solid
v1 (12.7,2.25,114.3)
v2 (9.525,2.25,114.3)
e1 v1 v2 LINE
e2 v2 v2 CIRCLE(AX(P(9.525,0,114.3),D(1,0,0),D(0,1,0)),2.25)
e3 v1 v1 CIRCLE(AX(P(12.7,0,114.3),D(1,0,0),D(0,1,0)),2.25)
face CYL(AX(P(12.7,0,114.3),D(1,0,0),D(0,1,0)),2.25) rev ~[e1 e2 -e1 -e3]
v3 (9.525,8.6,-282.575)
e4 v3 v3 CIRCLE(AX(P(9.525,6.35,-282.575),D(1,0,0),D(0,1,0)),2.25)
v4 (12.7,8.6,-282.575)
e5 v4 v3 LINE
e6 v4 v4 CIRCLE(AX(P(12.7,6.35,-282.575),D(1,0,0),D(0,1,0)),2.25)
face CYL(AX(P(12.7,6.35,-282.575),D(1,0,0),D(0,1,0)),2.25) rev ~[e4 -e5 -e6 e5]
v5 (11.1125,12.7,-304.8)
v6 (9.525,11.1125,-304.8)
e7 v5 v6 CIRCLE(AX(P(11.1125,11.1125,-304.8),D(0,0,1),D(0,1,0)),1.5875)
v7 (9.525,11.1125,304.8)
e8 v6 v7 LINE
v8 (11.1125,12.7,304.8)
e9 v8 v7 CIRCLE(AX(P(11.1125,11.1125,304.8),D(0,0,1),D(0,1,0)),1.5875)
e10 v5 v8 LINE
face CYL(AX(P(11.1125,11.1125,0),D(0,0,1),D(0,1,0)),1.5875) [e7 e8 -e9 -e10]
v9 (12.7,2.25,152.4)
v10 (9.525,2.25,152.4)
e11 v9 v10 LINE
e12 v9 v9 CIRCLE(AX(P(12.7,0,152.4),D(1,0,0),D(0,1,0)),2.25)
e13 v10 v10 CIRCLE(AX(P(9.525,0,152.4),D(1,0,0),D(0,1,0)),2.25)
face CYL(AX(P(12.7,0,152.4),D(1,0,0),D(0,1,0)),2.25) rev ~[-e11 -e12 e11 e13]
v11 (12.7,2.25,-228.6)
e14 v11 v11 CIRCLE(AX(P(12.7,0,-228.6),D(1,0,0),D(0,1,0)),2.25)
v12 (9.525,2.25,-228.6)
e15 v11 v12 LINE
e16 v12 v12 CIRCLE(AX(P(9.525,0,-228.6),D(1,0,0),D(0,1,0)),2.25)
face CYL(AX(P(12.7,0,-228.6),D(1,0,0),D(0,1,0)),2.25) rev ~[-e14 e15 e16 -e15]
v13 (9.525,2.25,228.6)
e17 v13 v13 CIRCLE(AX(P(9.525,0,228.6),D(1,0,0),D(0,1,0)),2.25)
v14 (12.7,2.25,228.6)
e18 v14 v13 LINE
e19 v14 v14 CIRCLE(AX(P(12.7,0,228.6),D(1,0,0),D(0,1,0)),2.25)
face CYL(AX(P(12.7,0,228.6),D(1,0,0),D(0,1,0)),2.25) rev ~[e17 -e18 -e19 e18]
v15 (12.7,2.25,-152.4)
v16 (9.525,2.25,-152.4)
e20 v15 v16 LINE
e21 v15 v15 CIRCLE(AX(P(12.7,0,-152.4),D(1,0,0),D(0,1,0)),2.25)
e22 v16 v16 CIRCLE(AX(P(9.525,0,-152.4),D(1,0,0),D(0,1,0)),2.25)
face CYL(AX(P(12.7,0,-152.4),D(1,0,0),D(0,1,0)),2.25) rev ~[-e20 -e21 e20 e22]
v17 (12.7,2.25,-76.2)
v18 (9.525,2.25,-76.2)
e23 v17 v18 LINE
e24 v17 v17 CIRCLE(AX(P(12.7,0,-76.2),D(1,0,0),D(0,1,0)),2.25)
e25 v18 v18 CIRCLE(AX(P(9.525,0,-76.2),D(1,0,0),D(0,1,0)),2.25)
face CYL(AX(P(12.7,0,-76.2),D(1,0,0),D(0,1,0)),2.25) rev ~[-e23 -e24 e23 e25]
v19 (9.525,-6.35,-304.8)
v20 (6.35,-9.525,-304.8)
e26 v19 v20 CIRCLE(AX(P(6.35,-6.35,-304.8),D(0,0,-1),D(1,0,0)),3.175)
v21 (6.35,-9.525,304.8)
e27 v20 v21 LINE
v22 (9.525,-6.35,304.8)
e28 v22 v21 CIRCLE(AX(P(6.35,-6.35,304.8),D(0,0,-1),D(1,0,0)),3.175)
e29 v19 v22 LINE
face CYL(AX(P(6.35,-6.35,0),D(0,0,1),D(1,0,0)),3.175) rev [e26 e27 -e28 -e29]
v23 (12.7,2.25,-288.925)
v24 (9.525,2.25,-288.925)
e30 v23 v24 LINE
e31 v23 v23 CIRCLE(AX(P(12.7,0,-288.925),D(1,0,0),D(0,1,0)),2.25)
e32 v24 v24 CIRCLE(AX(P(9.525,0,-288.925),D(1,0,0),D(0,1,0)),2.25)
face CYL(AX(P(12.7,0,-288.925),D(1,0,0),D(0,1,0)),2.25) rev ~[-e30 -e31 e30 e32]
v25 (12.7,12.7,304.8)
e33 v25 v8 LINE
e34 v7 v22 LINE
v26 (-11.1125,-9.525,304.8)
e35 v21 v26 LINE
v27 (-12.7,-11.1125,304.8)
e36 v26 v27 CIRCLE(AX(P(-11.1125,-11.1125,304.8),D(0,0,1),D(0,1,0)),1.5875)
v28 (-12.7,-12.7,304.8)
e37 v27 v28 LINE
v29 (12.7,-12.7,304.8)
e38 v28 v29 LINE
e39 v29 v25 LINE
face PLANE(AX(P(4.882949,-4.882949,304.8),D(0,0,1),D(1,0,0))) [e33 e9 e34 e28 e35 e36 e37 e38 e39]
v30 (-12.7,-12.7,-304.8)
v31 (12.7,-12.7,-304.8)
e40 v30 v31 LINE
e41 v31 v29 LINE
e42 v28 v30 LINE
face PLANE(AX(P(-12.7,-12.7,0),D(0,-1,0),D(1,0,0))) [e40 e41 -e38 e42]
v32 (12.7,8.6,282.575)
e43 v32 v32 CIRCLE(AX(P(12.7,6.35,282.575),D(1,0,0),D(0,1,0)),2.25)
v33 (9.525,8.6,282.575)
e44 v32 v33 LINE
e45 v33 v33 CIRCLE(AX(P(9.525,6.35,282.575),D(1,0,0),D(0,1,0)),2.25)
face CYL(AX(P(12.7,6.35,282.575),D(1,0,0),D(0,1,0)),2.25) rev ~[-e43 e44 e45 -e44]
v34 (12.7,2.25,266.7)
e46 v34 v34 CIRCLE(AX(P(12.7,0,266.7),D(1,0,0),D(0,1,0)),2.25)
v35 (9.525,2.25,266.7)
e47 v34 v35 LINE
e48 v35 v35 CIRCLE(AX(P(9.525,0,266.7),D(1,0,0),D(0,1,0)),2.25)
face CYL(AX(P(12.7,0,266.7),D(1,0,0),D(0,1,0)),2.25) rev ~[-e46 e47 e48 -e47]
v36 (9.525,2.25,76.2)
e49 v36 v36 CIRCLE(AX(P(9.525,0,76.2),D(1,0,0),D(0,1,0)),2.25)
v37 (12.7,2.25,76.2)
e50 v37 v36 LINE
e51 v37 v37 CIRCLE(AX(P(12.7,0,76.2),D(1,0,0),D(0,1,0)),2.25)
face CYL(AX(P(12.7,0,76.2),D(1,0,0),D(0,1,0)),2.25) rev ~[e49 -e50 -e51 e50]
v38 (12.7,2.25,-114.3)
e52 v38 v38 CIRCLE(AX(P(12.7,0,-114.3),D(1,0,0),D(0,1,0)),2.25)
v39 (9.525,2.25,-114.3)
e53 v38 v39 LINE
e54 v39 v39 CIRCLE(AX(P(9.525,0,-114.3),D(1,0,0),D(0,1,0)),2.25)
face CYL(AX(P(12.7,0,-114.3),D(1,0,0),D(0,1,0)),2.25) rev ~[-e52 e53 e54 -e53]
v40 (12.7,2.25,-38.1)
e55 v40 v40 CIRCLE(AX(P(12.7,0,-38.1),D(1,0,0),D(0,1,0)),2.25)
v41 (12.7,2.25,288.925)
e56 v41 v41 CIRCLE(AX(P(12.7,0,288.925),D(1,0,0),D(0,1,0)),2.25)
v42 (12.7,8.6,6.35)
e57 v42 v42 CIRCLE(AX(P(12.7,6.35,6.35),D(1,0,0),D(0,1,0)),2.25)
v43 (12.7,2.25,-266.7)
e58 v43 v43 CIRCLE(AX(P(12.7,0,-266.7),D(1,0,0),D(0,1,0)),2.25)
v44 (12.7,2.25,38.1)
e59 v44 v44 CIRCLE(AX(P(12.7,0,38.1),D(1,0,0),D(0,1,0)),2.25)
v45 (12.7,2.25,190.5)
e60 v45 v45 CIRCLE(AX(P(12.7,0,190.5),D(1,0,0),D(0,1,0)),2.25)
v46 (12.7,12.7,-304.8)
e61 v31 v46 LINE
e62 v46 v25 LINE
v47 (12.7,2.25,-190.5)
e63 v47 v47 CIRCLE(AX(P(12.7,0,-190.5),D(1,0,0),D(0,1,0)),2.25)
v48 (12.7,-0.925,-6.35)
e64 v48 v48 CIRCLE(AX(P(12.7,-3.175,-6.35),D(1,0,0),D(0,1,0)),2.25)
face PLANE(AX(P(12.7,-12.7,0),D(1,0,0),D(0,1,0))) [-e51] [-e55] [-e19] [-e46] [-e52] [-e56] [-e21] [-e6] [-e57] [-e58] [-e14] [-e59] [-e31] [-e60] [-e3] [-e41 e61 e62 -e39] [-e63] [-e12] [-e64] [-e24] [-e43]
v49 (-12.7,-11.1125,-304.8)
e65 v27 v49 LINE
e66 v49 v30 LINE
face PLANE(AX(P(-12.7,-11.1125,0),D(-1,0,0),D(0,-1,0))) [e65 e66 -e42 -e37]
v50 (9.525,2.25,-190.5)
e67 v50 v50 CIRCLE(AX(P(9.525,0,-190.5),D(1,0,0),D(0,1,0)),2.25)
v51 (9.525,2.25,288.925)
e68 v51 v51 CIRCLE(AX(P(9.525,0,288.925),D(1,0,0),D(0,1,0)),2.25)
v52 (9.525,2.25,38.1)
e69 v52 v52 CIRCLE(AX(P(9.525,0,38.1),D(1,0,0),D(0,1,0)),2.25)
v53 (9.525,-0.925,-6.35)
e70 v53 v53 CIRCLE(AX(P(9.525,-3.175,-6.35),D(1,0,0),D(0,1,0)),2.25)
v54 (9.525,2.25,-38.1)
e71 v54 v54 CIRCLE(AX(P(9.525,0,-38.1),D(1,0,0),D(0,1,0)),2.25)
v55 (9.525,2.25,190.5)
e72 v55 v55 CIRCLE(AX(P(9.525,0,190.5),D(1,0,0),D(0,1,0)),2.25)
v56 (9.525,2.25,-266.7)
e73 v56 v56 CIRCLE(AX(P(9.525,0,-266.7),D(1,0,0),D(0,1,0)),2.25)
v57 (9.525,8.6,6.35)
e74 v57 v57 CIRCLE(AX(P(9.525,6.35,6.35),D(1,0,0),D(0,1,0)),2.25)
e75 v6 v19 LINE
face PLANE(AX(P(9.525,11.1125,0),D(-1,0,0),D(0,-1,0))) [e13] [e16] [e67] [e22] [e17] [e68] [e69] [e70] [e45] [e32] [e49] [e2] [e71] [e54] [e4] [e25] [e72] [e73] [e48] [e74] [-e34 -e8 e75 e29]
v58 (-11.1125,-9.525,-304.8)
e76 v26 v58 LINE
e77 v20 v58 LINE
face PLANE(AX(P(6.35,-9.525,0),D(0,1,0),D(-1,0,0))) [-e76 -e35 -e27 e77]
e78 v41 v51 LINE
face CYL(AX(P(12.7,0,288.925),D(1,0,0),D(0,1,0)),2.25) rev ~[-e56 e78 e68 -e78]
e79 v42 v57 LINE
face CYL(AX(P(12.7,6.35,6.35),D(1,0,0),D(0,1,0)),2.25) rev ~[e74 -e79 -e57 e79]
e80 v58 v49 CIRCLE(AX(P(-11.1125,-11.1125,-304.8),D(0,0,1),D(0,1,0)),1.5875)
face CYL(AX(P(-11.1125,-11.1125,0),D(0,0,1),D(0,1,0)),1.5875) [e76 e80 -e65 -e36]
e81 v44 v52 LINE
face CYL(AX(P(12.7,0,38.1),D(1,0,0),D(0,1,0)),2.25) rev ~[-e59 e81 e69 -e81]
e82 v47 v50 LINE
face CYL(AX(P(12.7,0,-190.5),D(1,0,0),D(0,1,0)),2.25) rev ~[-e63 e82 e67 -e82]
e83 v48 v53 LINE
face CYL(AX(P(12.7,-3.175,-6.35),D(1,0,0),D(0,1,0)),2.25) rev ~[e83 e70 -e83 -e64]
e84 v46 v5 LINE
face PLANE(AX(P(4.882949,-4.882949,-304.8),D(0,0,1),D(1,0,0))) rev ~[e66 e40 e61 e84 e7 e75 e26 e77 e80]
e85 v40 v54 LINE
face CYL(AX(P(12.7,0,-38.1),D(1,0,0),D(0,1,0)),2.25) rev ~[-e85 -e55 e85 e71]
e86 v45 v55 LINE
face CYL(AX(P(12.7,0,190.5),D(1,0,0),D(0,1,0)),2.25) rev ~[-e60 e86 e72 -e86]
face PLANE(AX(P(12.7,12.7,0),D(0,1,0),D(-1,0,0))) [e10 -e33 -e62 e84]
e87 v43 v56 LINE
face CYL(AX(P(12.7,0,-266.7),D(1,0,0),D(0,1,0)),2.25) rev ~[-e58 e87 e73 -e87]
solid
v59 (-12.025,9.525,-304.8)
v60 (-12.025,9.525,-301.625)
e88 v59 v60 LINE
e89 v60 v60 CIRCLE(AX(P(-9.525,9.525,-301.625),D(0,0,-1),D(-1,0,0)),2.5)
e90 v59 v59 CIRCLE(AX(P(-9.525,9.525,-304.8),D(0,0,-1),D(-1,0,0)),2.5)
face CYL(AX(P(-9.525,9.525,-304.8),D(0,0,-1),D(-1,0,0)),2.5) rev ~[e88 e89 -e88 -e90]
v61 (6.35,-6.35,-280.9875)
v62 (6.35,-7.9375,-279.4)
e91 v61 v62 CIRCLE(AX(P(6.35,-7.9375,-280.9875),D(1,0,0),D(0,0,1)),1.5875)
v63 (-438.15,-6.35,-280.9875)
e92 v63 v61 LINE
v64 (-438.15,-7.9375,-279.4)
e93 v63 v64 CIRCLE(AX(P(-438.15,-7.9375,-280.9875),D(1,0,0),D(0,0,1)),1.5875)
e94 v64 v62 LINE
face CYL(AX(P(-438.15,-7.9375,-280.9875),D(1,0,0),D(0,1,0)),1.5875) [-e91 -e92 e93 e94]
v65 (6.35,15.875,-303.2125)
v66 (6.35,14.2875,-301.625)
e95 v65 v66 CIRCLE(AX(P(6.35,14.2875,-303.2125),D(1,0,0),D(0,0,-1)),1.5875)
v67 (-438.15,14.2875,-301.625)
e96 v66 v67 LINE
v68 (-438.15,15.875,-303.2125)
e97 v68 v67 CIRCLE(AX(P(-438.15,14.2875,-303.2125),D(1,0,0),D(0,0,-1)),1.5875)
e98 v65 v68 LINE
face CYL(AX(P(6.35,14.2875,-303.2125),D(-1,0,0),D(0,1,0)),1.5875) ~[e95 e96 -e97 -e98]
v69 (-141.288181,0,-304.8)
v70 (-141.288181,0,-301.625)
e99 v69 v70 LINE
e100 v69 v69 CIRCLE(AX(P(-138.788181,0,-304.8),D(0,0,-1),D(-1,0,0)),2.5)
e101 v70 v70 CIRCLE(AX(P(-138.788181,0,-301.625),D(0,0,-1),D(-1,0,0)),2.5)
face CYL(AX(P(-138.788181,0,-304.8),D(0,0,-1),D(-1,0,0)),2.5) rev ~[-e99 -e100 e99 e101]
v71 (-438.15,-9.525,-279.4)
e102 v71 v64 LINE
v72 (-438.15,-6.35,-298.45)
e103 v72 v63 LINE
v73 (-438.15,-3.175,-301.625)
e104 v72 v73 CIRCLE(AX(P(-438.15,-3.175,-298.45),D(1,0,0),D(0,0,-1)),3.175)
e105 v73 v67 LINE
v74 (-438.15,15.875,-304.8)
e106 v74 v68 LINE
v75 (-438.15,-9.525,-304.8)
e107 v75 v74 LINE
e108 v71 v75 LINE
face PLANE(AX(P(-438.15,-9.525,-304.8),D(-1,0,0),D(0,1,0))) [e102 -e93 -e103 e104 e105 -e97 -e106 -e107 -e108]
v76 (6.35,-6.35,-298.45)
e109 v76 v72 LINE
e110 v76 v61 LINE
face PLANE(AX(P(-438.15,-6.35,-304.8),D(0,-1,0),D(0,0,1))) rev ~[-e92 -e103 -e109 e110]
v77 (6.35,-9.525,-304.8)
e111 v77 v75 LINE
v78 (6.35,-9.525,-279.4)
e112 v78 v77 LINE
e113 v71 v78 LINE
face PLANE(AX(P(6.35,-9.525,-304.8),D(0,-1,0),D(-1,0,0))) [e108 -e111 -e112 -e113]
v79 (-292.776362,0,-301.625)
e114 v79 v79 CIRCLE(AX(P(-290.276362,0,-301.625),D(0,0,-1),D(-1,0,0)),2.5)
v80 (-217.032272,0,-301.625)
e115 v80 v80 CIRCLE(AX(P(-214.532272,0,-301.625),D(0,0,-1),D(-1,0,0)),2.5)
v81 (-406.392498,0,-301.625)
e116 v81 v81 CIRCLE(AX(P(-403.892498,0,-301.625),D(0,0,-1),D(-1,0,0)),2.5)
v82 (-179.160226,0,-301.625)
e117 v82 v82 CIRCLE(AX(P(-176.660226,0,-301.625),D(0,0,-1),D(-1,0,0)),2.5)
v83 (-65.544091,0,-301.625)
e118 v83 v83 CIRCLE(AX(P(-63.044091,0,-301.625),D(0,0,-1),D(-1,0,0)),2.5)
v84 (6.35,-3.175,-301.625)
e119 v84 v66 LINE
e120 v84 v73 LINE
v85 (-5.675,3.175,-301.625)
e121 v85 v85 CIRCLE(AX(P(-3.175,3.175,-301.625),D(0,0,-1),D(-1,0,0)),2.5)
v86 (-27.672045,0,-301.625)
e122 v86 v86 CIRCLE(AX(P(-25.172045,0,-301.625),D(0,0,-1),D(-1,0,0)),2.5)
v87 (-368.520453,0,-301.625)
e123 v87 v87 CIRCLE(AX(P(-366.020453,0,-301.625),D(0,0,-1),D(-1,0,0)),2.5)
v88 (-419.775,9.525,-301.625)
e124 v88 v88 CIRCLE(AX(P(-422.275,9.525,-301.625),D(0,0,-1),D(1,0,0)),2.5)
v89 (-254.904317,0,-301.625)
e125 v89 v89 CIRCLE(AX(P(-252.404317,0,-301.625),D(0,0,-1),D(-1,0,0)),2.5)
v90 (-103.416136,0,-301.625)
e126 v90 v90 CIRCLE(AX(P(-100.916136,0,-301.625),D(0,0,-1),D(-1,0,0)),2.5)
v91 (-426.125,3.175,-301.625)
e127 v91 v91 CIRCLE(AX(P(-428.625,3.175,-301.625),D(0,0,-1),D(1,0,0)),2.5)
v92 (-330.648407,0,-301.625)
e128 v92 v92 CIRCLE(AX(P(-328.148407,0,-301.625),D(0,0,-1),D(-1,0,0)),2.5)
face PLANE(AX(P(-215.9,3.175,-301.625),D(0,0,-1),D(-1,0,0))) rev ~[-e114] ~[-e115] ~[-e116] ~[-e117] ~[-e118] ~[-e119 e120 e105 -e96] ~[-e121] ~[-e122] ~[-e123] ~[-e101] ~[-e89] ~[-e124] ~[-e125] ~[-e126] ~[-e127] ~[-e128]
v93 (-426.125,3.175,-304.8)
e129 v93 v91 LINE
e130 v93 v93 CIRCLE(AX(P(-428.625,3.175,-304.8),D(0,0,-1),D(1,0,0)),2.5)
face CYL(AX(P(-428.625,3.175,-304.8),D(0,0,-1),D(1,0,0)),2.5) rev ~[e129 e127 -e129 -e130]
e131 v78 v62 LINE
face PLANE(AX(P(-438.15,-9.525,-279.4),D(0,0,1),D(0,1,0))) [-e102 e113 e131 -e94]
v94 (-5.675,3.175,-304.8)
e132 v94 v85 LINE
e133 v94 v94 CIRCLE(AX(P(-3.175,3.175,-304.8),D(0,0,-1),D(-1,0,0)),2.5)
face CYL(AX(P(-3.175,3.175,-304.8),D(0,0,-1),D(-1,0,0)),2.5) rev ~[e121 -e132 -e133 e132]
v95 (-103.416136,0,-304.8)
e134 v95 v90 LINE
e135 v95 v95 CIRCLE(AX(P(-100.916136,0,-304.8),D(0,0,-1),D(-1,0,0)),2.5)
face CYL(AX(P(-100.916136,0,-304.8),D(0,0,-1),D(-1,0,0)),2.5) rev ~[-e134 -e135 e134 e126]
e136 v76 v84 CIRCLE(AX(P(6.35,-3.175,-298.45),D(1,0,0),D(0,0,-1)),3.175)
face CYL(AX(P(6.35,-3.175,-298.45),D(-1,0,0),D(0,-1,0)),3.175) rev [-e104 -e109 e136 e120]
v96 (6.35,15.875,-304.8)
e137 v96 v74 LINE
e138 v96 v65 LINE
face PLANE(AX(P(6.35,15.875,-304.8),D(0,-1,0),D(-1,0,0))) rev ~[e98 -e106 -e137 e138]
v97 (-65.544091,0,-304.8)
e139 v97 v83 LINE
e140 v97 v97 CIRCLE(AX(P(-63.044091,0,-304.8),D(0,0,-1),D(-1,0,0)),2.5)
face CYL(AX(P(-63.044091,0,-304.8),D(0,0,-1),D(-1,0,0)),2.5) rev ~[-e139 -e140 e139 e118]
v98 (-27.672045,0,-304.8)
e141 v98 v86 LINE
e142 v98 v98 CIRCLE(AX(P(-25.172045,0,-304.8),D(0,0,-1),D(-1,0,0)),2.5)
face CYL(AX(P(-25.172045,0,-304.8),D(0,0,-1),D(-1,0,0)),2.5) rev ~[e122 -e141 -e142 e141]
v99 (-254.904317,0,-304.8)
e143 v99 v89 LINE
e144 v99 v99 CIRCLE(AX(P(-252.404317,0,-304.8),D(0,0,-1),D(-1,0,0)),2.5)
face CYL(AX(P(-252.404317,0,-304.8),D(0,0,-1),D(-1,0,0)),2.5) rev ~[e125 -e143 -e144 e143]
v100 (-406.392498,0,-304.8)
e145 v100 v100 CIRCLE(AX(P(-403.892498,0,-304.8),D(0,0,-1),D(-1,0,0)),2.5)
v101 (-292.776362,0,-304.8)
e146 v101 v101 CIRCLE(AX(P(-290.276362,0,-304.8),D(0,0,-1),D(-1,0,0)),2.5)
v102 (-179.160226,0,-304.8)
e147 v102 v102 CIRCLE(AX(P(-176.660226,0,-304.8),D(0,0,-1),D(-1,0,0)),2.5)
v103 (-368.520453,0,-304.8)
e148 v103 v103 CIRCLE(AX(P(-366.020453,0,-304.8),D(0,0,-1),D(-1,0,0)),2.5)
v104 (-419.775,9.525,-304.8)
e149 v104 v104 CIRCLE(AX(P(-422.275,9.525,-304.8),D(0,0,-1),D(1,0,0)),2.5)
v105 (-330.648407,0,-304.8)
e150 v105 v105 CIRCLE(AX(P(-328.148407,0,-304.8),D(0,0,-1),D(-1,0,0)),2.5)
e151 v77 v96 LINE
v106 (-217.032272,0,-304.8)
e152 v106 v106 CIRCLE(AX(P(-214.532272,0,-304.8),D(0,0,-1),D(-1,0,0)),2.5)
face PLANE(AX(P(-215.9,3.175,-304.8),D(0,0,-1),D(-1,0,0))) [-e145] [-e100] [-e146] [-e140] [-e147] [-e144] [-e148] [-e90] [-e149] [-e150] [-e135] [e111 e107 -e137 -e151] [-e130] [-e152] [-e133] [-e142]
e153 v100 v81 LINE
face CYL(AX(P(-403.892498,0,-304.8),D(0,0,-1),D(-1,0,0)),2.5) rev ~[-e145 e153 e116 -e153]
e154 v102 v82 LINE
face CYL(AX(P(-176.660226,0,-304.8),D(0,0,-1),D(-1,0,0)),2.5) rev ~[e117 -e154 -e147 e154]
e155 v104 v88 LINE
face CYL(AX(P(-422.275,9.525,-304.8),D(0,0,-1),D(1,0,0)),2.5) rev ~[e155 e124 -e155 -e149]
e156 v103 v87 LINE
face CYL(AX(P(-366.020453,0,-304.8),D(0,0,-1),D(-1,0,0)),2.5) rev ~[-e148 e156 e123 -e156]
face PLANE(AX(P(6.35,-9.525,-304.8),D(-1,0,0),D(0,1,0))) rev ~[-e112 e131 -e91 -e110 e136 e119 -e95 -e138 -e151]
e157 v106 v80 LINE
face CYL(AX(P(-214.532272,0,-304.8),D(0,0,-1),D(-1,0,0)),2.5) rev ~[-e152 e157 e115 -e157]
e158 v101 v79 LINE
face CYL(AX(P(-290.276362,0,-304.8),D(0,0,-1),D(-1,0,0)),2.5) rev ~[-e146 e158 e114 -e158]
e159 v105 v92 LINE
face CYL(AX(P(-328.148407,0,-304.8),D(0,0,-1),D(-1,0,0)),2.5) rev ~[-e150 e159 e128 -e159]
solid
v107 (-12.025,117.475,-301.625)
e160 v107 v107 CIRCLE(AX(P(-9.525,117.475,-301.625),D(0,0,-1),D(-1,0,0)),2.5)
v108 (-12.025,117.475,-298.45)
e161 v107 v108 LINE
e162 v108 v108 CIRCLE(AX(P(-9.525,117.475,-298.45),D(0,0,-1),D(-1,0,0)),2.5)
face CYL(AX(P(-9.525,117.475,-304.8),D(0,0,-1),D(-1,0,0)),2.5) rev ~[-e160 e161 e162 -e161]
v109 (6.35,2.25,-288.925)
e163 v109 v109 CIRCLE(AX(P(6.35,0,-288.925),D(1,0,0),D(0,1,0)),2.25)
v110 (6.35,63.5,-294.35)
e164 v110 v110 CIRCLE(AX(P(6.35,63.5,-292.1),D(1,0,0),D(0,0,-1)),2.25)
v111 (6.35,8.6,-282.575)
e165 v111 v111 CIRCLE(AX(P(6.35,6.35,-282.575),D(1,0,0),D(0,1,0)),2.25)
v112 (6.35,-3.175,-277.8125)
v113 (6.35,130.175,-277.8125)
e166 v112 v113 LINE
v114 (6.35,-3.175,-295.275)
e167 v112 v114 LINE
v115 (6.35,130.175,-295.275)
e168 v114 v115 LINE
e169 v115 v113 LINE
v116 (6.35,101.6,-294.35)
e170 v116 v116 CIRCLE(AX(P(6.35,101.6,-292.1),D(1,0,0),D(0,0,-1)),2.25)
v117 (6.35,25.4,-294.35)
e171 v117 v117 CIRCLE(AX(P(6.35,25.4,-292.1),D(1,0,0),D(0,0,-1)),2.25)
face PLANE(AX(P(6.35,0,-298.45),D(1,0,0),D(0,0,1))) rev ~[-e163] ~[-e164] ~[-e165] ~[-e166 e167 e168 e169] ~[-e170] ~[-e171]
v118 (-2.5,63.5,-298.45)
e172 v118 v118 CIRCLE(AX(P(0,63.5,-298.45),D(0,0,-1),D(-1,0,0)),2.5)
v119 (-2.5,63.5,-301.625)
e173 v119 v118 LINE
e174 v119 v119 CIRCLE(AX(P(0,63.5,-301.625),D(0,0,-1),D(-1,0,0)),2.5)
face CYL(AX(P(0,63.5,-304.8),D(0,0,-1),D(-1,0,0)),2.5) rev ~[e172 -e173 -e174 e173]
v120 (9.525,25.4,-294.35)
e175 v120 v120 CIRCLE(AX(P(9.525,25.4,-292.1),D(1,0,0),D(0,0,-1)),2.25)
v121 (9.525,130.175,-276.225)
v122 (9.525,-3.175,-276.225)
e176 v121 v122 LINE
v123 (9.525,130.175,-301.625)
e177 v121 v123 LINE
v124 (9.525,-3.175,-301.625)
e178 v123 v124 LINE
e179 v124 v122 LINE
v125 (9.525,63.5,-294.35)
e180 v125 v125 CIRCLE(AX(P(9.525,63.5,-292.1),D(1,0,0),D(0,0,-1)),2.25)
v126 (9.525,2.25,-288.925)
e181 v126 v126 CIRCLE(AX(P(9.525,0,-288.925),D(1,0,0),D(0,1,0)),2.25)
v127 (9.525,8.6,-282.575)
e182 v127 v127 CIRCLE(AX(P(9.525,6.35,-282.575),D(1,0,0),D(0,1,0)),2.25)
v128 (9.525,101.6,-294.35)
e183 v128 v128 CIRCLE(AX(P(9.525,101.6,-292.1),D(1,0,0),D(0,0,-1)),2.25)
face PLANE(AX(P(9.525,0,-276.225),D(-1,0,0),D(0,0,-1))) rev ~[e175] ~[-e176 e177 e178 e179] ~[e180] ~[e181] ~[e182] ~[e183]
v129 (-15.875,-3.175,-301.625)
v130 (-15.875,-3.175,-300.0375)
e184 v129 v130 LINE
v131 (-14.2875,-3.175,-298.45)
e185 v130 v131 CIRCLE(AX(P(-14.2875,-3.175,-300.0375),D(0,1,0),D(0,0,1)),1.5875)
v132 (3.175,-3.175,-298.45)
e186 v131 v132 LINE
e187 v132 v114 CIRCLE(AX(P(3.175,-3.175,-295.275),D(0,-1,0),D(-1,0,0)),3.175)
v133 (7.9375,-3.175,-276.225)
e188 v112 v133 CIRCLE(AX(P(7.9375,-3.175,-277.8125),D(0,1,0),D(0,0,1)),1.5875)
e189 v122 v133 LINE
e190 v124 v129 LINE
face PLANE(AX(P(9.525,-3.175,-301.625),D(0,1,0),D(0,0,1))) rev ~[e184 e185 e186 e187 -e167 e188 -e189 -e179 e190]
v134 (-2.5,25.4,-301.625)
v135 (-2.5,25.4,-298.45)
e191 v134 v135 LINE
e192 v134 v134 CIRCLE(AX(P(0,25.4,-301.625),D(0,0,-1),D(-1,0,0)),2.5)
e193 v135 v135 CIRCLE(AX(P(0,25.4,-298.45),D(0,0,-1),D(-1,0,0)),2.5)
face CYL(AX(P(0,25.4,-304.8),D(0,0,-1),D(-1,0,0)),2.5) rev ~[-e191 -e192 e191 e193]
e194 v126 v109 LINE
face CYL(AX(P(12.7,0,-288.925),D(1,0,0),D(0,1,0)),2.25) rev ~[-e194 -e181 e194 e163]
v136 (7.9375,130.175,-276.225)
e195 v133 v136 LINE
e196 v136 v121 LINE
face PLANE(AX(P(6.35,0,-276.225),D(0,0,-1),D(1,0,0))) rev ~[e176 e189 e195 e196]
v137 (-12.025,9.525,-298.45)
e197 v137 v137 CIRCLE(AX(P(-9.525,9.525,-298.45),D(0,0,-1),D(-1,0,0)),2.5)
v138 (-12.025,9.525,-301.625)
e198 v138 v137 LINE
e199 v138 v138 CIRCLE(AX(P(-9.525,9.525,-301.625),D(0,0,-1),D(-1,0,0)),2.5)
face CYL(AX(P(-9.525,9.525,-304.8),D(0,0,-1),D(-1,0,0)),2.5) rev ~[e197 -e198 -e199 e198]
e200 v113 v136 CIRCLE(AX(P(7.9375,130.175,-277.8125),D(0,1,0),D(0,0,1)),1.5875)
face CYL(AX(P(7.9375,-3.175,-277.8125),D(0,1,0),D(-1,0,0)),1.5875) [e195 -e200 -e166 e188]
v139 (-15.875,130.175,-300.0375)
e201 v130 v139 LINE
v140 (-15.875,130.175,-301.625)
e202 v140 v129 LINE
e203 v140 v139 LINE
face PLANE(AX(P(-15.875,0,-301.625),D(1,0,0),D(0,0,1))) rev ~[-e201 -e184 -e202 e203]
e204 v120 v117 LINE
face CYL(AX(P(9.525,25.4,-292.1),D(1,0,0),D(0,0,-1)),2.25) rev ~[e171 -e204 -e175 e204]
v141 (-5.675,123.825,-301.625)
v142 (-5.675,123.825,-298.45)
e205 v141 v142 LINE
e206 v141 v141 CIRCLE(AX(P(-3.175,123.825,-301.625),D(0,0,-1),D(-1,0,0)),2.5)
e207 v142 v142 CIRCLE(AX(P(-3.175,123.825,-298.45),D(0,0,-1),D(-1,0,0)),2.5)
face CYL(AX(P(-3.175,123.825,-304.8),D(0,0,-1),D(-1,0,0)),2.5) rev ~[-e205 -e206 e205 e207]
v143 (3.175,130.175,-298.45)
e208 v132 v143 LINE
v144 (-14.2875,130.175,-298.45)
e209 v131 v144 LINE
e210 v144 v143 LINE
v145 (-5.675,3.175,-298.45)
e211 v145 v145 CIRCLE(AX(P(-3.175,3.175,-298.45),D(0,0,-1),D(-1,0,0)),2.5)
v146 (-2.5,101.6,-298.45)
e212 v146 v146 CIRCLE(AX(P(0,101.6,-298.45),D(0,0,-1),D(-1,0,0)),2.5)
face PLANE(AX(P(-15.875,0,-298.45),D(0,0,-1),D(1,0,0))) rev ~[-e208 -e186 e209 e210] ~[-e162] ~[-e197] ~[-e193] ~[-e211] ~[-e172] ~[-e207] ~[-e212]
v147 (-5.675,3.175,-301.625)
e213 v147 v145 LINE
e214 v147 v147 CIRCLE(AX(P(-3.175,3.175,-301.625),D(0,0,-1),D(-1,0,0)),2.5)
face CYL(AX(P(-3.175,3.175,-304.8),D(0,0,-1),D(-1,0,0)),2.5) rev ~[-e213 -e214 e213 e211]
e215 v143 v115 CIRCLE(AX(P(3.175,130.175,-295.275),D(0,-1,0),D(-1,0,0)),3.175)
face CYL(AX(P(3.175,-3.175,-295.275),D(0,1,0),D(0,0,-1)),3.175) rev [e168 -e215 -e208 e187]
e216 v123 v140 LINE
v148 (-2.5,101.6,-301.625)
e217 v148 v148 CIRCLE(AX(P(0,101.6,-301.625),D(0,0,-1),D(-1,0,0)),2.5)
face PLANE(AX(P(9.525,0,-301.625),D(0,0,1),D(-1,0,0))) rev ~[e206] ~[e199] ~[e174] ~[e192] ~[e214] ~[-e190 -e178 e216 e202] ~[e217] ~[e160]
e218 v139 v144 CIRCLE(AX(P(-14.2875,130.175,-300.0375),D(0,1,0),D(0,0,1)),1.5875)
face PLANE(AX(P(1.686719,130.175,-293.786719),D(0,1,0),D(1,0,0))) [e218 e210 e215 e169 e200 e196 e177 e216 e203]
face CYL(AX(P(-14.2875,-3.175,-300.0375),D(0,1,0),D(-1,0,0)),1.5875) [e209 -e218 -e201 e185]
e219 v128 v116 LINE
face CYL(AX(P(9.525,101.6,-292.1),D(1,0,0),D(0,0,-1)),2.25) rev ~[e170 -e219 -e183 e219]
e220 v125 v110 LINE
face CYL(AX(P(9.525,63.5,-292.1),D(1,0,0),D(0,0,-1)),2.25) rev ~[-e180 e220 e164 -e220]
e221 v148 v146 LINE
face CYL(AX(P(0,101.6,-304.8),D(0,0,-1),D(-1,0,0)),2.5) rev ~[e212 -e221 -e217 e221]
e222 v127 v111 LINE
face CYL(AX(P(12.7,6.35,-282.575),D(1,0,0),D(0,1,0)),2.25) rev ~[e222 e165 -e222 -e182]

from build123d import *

# Parameters (mm, degrees)
BOSS_EXTRUDE1_DEPTH = 304.8
SKETCH3_W           = 444.5
SKETCH3_H           = 25.4
BOSS_EXTRUDE2_DEPTH = 3.175
SKETCH4_W           = 25.4
SKETCH4_H           = 3.175
BOSS_EXTRUDE3_DEPTH = 444.5
FILLET1_R           = 1.5875
FILLET2_R           = 3.175
SKETCH6_W           = 25.4
SKETCH6_H           = 3.175
BOSS_EXTRUDE4_DEPTH = 25.4
SKETCH7_W           = 22.225
SKETCH7_H           = 22.225
CUT_EXTRUDE1_DEPTH  = 3.175
BOSS_EXTRUDE5_DEPTH = 130.175
FILLET3_R           = 1.5875
FILLET4_R           = 3.175
SKETCH10_R          = 2.25
CUT_EXTRUDE2_DEPTH  = 50.8
SKETCH11_R          = 2.5
CUT_EXTRUDE3_DEPTH  = 50.8
SKETCH12_R          = 2.25
CUT_EXTRUDE4_DEPTH  = 50.8
SKETCH13_R          = 2.5
CUT_EXTRUDE5_DEPTH  = 50.8
SKETCH14_R          = 2.5
CUT_EXTRUDE6_DEPTH  = 50.8
SKETCH18_R          = 2.25
CUT_EXTRUDE7_DEPTH  = 25.4


with BuildPart() as part:
    # Sketch2 → Boss-Extrude1 (new, symmetric)
    with BuildSketch(Plane.XY):
        with BuildLine():
            Line((-12.7, -12.7), (12.7, -12.7))
            Line((12.7, -12.7), (12.7, 12.7))
            Line((12.7, 12.7), (11.1125, 12.7))
            ThreePointArc((11.1125, 12.7), (9.989967985, 12.235032015), (9.525, 11.1125))
            Line((9.525, 11.1125), (9.525, -6.35))
            ThreePointArc((9.525, -6.35), (8.59506403, -8.59506403), (6.35, -9.525))
            Line((6.35, -9.525), (-11.1125, -9.525))
            ThreePointArc((-11.1125, -9.525), (-12.235032015, -9.989967985), (-12.7, -11.1125))
            Line((-12.7, -11.1125), (-12.7, -12.7))
        make_face()
    extrude(amount=BOSS_EXTRUDE1_DEPTH, both=True)


with BuildPart() as body_2:
    # Sketch3 → Boss-Extrude2 (new body)
    with BuildSketch(Plane(origin=(0, 0, -304.8), x_dir=(-1, 0, 0), z_dir=(0, 0, -1))):
        with Locations((215.9, 3.175)):
            Rectangle(SKETCH3_W, SKETCH3_H)
    extrude(amount=-BOSS_EXTRUDE2_DEPTH)

    # Sketch4 → Boss-Extrude3 (add)
    with BuildSketch(Plane.ZY.offset(438.15)):
        with Locations((-292.1, -7.9375)):
            Rectangle(SKETCH4_W, SKETCH4_H)
    extrude(amount=-BOSS_EXTRUDE3_DEPTH)

    # Fillet1
    fillet1_edges = [body_2.edges().sort_by_distance(p)[0] for p in [
        (-215.9, 15.875, -301.625),
        (-215.9, -6.35, -279.4),
    ]]
    fillet(fillet1_edges, radius=FILLET1_R)

    # Fillet2
    fillet2_edges = [body_2.edges().sort_by_distance(p)[0] for p in [
        (-215.9, -6.35, -301.625),
    ]]
    fillet(fillet2_edges, radius=FILLET2_R)


with BuildPart() as body_3:
    # Sketch6 → Boss-Extrude4 (new body)
    with BuildSketch(Plane.ZY.offset(-9.525)):
        with Locations((-288.925, -1.5875)):
            Rectangle(SKETCH6_W, SKETCH6_H)
    extrude(amount=BOSS_EXTRUDE4_DEPTH)

    # Sketch7 → Cut-Extrude1 (cut)
    with BuildSketch(Plane(origin=(0, 0, 0), x_dir=(1, 0, 0), z_dir=(0, 1, 0))):
        with Locations((-4.7625, 287.3375)):
            Rectangle(SKETCH7_W, SKETCH7_H)
    extrude(amount=-CUT_EXTRUDE1_DEPTH, mode=Mode.SUBTRACT)

    # Sketch8 → Boss-Extrude5 (add)
    with BuildSketch(Plane(origin=(0, 0, 0), x_dir=(1, 0, 0), z_dir=(0, 1, 0))):
        Polygon((-15.875, 301.625), (-15.875, 298.45), (6.35, 298.45), (6.35, 276.225), (9.525, 276.225), (9.525, 301.625), align=None)
    extrude(amount=BOSS_EXTRUDE5_DEPTH)

    # Fillet3
    fillet3_edges = [body_3.edges().sort_by_distance(p)[0] for p in [
        (-15.875, 63.5, -298.45),
        (6.35, 63.5, -276.225),
    ]]
    fillet(fillet3_edges, radius=FILLET3_R)

    # Fillet4
    fillet4_edges = [body_3.edges().sort_by_distance(p)[0] for p in [
        (6.35, 63.5, -298.45),
    ]]
    fillet(fillet4_edges, radius=FILLET4_R)


with BuildPart() as cut_extrude2_tool:
    # Sketch10 → Cut-Extrude2 (new body)
    with BuildSketch(Plane(origin=(12.7, 0, 0), x_dir=(0, 0, -1), z_dir=(1, 0, 0))):
        with Locations(Location((282.575, 6.35, 0), (0, 0, 90))):
            Circle(SKETCH10_R)
        with Locations(Location((288.925, 0, 0), (0, 0, 90))):
            Circle(SKETCH10_R)
    extrude(amount=-CUT_EXTRUDE2_DEPTH)


with BuildPart() as part_1:
    add(part.part)

    # Cut-Extrude2: cut by cut_extrude2_tool
    add(cut_extrude2_tool.part, mode=Mode.SUBTRACT)

    # Sketch12 → Cut-Extrude4 (cut)
    with BuildSketch(Plane(origin=(12.7, 0, 0), x_dir=(0, 0, -1), z_dir=(1, 0, 0))):
        with Locations(Location((288.925, 0, 0), (0, 0, 90))):
            Circle(SKETCH12_R)
        with Locations(Location((282.575, 6.35, 0), (0, 0, 90))):
            Circle(SKETCH12_R)
        with Locations(Location((-288.925, 0, 0), (0, 0, 90))):
            Circle(SKETCH12_R)
        with Locations(Location((-282.575, 6.35, 0), (0, 0, 90))):
            Circle(SKETCH12_R)
        with Locations(Location((-6.35, 6.35, 0), (0, 0, 90))):
            Circle(SKETCH12_R)
        with Locations(Location((6.35, -3.175, 0), (0, 0, 90))):
            Circle(SKETCH12_R)
        with Locations(Location((-266.7, 0, 0), (0, 0, 90))):
            Circle(SKETCH12_R)
        with Locations(Location((-228.6, 0, 0), (0, 0, 90))):
            Circle(SKETCH12_R)
        with Locations(Location((-190.5, 0, 0), (0, 0, 90))):
            Circle(SKETCH12_R)
        with Locations(Location((-152.4, 0, 0), (0, 0, 90))):
            Circle(SKETCH12_R)
        with Locations(Location((-114.3, 0, 0), (0, 0, 90))):
            Circle(SKETCH12_R)
        with Locations(Location((-76.2, 0, 0), (0, 0, 90))):
            Circle(SKETCH12_R)
        with Locations(Location((-38.1, 0, 0), (0, 0, 90))):
            Circle(SKETCH12_R)
        with Locations(Location((38.1, 0, 0), (0, 0, 90))):
            Circle(SKETCH12_R)
        with Locations(Location((76.2, 0, 0), (0, 0, 90))):
            Circle(SKETCH12_R)
        with Locations(Location((114.3, 0, 0), (0, 0, 90))):
            Circle(SKETCH12_R)
        with Locations(Location((152.4, 0, 0), (0, 0, 90))):
            Circle(SKETCH12_R)
        with Locations(Location((190.5, 0, 0), (0, 0, 90))):
            Circle(SKETCH12_R)
        with Locations(Location((228.6, 0, 0), (0, 0, 90))):
            Circle(SKETCH12_R)
        with Locations(Location((266.7, 0, 0), (0, 0, 90))):
            Circle(SKETCH12_R)
    extrude(amount=-CUT_EXTRUDE4_DEPTH, mode=Mode.SUBTRACT)


with BuildPart() as body_3_1:
    add(body_3.part)

    # Cut-Extrude2: cut by cut_extrude2_tool
    add(cut_extrude2_tool.part, mode=Mode.SUBTRACT)


with BuildPart() as cut_extrude3_tool:
    # Sketch11 → Cut-Extrude3 (new body)
    with BuildSketch(Plane(origin=(0, 0, -304.8), x_dir=(-1, 0, 0), z_dir=(0, 0, -1))):
        with Locations((3.175, 3.175)):
            Circle(SKETCH11_R)
        with Locations((9.525, 9.525)):
            Circle(SKETCH11_R)
    extrude(amount=-CUT_EXTRUDE3_DEPTH)


with BuildPart() as body_2_1:
    add(body_2.part)

    # Cut-Extrude3: cut by cut_extrude3_tool
    add(cut_extrude3_tool.part, mode=Mode.SUBTRACT)

    # Sketch13 → Cut-Extrude5 (cut)
    with BuildSketch(Plane(origin=(0, 0, -304.8), x_dir=(-1, 0, 0), z_dir=(0, 0, -1))):
        with Locations((25.172045256, 0)):
            Circle(SKETCH13_R)
        with Locations((63.044090512, 0)):
            Circle(SKETCH13_R)
        with Locations((100.916135768, 0)):
            Circle(SKETCH13_R)
        with Locations((138.788181024, 0)):
            Circle(SKETCH13_R)
        with Locations((176.660226281, 0)):
            Circle(SKETCH13_R)
        with Locations((214.532271537, 0)):
            Circle(SKETCH13_R)
        with Locations((252.404316793, 0)):
            Circle(SKETCH13_R)
        with Locations((290.276362049, 0)):
            Circle(SKETCH13_R)
        with Locations((328.148407305, 0)):
            Circle(SKETCH13_R)
        with Locations((366.020452561, 0)):
            Circle(SKETCH13_R)
        with Locations((403.892497817, 0)):
            Circle(SKETCH13_R)
        with Locations((3.175, 3.175)):
            Circle(SKETCH13_R)
        with Locations((9.525, 9.525)):
            Circle(SKETCH13_R)
        with Locations(Location((428.625, 3.175, 0), (0, 0, 180))):
            Circle(SKETCH13_R)
        with Locations(Location((422.275, 9.525, 0), (0, 0, 180))):
            Circle(SKETCH13_R)
    extrude(amount=-CUT_EXTRUDE5_DEPTH, mode=Mode.SUBTRACT)


with BuildPart() as body_3_2:
    add(body_3_1.part)

    # Cut-Extrude3: cut by cut_extrude3_tool
    add(cut_extrude3_tool.part, mode=Mode.SUBTRACT)

    # Sketch14 → Cut-Extrude6 (cut)
    with BuildSketch(Plane(origin=(0, 0, -304.8), x_dir=(-1, 0, 0), z_dir=(0, 0, -1))):
        with Locations((0, 25.4)):
            Circle(SKETCH14_R)
        with Locations((0, 63.5)):
            Circle(SKETCH14_R)
        with Locations((0, 101.6)):
            Circle(SKETCH14_R)
        with Locations((0, 139.7)):
            Circle(SKETCH14_R)
        with Locations((3.175, 3.175)):
            Circle(SKETCH14_R)
        with Locations((9.525, 9.525)):
            Circle(SKETCH14_R)
        with Locations((3.175, 123.825)):
            Circle(SKETCH14_R)
        with Locations((9.525, 117.475)):
            Circle(SKETCH14_R)
    extrude(amount=-CUT_EXTRUDE6_DEPTH, mode=Mode.SUBTRACT)

    # Sketch18 → Cut-Extrude7 (cut)
    with BuildSketch(Plane(origin=(9.525, 0, 0), x_dir=(0, 0, -1), z_dir=(1, 0, 0))):
        with Locations((292.1, 25.4)):
            Circle(SKETCH18_R)
        with Locations((292.1, 63.5)):
            Circle(SKETCH18_R)
        with Locations((292.1, 101.6)):
            Circle(SKETCH18_R)
    extrude(amount=-CUT_EXTRUDE7_DEPTH, mode=Mode.SUBTRACT)


solid = Compound([part_1.part, body_2_1.part, body_3_2.part])
